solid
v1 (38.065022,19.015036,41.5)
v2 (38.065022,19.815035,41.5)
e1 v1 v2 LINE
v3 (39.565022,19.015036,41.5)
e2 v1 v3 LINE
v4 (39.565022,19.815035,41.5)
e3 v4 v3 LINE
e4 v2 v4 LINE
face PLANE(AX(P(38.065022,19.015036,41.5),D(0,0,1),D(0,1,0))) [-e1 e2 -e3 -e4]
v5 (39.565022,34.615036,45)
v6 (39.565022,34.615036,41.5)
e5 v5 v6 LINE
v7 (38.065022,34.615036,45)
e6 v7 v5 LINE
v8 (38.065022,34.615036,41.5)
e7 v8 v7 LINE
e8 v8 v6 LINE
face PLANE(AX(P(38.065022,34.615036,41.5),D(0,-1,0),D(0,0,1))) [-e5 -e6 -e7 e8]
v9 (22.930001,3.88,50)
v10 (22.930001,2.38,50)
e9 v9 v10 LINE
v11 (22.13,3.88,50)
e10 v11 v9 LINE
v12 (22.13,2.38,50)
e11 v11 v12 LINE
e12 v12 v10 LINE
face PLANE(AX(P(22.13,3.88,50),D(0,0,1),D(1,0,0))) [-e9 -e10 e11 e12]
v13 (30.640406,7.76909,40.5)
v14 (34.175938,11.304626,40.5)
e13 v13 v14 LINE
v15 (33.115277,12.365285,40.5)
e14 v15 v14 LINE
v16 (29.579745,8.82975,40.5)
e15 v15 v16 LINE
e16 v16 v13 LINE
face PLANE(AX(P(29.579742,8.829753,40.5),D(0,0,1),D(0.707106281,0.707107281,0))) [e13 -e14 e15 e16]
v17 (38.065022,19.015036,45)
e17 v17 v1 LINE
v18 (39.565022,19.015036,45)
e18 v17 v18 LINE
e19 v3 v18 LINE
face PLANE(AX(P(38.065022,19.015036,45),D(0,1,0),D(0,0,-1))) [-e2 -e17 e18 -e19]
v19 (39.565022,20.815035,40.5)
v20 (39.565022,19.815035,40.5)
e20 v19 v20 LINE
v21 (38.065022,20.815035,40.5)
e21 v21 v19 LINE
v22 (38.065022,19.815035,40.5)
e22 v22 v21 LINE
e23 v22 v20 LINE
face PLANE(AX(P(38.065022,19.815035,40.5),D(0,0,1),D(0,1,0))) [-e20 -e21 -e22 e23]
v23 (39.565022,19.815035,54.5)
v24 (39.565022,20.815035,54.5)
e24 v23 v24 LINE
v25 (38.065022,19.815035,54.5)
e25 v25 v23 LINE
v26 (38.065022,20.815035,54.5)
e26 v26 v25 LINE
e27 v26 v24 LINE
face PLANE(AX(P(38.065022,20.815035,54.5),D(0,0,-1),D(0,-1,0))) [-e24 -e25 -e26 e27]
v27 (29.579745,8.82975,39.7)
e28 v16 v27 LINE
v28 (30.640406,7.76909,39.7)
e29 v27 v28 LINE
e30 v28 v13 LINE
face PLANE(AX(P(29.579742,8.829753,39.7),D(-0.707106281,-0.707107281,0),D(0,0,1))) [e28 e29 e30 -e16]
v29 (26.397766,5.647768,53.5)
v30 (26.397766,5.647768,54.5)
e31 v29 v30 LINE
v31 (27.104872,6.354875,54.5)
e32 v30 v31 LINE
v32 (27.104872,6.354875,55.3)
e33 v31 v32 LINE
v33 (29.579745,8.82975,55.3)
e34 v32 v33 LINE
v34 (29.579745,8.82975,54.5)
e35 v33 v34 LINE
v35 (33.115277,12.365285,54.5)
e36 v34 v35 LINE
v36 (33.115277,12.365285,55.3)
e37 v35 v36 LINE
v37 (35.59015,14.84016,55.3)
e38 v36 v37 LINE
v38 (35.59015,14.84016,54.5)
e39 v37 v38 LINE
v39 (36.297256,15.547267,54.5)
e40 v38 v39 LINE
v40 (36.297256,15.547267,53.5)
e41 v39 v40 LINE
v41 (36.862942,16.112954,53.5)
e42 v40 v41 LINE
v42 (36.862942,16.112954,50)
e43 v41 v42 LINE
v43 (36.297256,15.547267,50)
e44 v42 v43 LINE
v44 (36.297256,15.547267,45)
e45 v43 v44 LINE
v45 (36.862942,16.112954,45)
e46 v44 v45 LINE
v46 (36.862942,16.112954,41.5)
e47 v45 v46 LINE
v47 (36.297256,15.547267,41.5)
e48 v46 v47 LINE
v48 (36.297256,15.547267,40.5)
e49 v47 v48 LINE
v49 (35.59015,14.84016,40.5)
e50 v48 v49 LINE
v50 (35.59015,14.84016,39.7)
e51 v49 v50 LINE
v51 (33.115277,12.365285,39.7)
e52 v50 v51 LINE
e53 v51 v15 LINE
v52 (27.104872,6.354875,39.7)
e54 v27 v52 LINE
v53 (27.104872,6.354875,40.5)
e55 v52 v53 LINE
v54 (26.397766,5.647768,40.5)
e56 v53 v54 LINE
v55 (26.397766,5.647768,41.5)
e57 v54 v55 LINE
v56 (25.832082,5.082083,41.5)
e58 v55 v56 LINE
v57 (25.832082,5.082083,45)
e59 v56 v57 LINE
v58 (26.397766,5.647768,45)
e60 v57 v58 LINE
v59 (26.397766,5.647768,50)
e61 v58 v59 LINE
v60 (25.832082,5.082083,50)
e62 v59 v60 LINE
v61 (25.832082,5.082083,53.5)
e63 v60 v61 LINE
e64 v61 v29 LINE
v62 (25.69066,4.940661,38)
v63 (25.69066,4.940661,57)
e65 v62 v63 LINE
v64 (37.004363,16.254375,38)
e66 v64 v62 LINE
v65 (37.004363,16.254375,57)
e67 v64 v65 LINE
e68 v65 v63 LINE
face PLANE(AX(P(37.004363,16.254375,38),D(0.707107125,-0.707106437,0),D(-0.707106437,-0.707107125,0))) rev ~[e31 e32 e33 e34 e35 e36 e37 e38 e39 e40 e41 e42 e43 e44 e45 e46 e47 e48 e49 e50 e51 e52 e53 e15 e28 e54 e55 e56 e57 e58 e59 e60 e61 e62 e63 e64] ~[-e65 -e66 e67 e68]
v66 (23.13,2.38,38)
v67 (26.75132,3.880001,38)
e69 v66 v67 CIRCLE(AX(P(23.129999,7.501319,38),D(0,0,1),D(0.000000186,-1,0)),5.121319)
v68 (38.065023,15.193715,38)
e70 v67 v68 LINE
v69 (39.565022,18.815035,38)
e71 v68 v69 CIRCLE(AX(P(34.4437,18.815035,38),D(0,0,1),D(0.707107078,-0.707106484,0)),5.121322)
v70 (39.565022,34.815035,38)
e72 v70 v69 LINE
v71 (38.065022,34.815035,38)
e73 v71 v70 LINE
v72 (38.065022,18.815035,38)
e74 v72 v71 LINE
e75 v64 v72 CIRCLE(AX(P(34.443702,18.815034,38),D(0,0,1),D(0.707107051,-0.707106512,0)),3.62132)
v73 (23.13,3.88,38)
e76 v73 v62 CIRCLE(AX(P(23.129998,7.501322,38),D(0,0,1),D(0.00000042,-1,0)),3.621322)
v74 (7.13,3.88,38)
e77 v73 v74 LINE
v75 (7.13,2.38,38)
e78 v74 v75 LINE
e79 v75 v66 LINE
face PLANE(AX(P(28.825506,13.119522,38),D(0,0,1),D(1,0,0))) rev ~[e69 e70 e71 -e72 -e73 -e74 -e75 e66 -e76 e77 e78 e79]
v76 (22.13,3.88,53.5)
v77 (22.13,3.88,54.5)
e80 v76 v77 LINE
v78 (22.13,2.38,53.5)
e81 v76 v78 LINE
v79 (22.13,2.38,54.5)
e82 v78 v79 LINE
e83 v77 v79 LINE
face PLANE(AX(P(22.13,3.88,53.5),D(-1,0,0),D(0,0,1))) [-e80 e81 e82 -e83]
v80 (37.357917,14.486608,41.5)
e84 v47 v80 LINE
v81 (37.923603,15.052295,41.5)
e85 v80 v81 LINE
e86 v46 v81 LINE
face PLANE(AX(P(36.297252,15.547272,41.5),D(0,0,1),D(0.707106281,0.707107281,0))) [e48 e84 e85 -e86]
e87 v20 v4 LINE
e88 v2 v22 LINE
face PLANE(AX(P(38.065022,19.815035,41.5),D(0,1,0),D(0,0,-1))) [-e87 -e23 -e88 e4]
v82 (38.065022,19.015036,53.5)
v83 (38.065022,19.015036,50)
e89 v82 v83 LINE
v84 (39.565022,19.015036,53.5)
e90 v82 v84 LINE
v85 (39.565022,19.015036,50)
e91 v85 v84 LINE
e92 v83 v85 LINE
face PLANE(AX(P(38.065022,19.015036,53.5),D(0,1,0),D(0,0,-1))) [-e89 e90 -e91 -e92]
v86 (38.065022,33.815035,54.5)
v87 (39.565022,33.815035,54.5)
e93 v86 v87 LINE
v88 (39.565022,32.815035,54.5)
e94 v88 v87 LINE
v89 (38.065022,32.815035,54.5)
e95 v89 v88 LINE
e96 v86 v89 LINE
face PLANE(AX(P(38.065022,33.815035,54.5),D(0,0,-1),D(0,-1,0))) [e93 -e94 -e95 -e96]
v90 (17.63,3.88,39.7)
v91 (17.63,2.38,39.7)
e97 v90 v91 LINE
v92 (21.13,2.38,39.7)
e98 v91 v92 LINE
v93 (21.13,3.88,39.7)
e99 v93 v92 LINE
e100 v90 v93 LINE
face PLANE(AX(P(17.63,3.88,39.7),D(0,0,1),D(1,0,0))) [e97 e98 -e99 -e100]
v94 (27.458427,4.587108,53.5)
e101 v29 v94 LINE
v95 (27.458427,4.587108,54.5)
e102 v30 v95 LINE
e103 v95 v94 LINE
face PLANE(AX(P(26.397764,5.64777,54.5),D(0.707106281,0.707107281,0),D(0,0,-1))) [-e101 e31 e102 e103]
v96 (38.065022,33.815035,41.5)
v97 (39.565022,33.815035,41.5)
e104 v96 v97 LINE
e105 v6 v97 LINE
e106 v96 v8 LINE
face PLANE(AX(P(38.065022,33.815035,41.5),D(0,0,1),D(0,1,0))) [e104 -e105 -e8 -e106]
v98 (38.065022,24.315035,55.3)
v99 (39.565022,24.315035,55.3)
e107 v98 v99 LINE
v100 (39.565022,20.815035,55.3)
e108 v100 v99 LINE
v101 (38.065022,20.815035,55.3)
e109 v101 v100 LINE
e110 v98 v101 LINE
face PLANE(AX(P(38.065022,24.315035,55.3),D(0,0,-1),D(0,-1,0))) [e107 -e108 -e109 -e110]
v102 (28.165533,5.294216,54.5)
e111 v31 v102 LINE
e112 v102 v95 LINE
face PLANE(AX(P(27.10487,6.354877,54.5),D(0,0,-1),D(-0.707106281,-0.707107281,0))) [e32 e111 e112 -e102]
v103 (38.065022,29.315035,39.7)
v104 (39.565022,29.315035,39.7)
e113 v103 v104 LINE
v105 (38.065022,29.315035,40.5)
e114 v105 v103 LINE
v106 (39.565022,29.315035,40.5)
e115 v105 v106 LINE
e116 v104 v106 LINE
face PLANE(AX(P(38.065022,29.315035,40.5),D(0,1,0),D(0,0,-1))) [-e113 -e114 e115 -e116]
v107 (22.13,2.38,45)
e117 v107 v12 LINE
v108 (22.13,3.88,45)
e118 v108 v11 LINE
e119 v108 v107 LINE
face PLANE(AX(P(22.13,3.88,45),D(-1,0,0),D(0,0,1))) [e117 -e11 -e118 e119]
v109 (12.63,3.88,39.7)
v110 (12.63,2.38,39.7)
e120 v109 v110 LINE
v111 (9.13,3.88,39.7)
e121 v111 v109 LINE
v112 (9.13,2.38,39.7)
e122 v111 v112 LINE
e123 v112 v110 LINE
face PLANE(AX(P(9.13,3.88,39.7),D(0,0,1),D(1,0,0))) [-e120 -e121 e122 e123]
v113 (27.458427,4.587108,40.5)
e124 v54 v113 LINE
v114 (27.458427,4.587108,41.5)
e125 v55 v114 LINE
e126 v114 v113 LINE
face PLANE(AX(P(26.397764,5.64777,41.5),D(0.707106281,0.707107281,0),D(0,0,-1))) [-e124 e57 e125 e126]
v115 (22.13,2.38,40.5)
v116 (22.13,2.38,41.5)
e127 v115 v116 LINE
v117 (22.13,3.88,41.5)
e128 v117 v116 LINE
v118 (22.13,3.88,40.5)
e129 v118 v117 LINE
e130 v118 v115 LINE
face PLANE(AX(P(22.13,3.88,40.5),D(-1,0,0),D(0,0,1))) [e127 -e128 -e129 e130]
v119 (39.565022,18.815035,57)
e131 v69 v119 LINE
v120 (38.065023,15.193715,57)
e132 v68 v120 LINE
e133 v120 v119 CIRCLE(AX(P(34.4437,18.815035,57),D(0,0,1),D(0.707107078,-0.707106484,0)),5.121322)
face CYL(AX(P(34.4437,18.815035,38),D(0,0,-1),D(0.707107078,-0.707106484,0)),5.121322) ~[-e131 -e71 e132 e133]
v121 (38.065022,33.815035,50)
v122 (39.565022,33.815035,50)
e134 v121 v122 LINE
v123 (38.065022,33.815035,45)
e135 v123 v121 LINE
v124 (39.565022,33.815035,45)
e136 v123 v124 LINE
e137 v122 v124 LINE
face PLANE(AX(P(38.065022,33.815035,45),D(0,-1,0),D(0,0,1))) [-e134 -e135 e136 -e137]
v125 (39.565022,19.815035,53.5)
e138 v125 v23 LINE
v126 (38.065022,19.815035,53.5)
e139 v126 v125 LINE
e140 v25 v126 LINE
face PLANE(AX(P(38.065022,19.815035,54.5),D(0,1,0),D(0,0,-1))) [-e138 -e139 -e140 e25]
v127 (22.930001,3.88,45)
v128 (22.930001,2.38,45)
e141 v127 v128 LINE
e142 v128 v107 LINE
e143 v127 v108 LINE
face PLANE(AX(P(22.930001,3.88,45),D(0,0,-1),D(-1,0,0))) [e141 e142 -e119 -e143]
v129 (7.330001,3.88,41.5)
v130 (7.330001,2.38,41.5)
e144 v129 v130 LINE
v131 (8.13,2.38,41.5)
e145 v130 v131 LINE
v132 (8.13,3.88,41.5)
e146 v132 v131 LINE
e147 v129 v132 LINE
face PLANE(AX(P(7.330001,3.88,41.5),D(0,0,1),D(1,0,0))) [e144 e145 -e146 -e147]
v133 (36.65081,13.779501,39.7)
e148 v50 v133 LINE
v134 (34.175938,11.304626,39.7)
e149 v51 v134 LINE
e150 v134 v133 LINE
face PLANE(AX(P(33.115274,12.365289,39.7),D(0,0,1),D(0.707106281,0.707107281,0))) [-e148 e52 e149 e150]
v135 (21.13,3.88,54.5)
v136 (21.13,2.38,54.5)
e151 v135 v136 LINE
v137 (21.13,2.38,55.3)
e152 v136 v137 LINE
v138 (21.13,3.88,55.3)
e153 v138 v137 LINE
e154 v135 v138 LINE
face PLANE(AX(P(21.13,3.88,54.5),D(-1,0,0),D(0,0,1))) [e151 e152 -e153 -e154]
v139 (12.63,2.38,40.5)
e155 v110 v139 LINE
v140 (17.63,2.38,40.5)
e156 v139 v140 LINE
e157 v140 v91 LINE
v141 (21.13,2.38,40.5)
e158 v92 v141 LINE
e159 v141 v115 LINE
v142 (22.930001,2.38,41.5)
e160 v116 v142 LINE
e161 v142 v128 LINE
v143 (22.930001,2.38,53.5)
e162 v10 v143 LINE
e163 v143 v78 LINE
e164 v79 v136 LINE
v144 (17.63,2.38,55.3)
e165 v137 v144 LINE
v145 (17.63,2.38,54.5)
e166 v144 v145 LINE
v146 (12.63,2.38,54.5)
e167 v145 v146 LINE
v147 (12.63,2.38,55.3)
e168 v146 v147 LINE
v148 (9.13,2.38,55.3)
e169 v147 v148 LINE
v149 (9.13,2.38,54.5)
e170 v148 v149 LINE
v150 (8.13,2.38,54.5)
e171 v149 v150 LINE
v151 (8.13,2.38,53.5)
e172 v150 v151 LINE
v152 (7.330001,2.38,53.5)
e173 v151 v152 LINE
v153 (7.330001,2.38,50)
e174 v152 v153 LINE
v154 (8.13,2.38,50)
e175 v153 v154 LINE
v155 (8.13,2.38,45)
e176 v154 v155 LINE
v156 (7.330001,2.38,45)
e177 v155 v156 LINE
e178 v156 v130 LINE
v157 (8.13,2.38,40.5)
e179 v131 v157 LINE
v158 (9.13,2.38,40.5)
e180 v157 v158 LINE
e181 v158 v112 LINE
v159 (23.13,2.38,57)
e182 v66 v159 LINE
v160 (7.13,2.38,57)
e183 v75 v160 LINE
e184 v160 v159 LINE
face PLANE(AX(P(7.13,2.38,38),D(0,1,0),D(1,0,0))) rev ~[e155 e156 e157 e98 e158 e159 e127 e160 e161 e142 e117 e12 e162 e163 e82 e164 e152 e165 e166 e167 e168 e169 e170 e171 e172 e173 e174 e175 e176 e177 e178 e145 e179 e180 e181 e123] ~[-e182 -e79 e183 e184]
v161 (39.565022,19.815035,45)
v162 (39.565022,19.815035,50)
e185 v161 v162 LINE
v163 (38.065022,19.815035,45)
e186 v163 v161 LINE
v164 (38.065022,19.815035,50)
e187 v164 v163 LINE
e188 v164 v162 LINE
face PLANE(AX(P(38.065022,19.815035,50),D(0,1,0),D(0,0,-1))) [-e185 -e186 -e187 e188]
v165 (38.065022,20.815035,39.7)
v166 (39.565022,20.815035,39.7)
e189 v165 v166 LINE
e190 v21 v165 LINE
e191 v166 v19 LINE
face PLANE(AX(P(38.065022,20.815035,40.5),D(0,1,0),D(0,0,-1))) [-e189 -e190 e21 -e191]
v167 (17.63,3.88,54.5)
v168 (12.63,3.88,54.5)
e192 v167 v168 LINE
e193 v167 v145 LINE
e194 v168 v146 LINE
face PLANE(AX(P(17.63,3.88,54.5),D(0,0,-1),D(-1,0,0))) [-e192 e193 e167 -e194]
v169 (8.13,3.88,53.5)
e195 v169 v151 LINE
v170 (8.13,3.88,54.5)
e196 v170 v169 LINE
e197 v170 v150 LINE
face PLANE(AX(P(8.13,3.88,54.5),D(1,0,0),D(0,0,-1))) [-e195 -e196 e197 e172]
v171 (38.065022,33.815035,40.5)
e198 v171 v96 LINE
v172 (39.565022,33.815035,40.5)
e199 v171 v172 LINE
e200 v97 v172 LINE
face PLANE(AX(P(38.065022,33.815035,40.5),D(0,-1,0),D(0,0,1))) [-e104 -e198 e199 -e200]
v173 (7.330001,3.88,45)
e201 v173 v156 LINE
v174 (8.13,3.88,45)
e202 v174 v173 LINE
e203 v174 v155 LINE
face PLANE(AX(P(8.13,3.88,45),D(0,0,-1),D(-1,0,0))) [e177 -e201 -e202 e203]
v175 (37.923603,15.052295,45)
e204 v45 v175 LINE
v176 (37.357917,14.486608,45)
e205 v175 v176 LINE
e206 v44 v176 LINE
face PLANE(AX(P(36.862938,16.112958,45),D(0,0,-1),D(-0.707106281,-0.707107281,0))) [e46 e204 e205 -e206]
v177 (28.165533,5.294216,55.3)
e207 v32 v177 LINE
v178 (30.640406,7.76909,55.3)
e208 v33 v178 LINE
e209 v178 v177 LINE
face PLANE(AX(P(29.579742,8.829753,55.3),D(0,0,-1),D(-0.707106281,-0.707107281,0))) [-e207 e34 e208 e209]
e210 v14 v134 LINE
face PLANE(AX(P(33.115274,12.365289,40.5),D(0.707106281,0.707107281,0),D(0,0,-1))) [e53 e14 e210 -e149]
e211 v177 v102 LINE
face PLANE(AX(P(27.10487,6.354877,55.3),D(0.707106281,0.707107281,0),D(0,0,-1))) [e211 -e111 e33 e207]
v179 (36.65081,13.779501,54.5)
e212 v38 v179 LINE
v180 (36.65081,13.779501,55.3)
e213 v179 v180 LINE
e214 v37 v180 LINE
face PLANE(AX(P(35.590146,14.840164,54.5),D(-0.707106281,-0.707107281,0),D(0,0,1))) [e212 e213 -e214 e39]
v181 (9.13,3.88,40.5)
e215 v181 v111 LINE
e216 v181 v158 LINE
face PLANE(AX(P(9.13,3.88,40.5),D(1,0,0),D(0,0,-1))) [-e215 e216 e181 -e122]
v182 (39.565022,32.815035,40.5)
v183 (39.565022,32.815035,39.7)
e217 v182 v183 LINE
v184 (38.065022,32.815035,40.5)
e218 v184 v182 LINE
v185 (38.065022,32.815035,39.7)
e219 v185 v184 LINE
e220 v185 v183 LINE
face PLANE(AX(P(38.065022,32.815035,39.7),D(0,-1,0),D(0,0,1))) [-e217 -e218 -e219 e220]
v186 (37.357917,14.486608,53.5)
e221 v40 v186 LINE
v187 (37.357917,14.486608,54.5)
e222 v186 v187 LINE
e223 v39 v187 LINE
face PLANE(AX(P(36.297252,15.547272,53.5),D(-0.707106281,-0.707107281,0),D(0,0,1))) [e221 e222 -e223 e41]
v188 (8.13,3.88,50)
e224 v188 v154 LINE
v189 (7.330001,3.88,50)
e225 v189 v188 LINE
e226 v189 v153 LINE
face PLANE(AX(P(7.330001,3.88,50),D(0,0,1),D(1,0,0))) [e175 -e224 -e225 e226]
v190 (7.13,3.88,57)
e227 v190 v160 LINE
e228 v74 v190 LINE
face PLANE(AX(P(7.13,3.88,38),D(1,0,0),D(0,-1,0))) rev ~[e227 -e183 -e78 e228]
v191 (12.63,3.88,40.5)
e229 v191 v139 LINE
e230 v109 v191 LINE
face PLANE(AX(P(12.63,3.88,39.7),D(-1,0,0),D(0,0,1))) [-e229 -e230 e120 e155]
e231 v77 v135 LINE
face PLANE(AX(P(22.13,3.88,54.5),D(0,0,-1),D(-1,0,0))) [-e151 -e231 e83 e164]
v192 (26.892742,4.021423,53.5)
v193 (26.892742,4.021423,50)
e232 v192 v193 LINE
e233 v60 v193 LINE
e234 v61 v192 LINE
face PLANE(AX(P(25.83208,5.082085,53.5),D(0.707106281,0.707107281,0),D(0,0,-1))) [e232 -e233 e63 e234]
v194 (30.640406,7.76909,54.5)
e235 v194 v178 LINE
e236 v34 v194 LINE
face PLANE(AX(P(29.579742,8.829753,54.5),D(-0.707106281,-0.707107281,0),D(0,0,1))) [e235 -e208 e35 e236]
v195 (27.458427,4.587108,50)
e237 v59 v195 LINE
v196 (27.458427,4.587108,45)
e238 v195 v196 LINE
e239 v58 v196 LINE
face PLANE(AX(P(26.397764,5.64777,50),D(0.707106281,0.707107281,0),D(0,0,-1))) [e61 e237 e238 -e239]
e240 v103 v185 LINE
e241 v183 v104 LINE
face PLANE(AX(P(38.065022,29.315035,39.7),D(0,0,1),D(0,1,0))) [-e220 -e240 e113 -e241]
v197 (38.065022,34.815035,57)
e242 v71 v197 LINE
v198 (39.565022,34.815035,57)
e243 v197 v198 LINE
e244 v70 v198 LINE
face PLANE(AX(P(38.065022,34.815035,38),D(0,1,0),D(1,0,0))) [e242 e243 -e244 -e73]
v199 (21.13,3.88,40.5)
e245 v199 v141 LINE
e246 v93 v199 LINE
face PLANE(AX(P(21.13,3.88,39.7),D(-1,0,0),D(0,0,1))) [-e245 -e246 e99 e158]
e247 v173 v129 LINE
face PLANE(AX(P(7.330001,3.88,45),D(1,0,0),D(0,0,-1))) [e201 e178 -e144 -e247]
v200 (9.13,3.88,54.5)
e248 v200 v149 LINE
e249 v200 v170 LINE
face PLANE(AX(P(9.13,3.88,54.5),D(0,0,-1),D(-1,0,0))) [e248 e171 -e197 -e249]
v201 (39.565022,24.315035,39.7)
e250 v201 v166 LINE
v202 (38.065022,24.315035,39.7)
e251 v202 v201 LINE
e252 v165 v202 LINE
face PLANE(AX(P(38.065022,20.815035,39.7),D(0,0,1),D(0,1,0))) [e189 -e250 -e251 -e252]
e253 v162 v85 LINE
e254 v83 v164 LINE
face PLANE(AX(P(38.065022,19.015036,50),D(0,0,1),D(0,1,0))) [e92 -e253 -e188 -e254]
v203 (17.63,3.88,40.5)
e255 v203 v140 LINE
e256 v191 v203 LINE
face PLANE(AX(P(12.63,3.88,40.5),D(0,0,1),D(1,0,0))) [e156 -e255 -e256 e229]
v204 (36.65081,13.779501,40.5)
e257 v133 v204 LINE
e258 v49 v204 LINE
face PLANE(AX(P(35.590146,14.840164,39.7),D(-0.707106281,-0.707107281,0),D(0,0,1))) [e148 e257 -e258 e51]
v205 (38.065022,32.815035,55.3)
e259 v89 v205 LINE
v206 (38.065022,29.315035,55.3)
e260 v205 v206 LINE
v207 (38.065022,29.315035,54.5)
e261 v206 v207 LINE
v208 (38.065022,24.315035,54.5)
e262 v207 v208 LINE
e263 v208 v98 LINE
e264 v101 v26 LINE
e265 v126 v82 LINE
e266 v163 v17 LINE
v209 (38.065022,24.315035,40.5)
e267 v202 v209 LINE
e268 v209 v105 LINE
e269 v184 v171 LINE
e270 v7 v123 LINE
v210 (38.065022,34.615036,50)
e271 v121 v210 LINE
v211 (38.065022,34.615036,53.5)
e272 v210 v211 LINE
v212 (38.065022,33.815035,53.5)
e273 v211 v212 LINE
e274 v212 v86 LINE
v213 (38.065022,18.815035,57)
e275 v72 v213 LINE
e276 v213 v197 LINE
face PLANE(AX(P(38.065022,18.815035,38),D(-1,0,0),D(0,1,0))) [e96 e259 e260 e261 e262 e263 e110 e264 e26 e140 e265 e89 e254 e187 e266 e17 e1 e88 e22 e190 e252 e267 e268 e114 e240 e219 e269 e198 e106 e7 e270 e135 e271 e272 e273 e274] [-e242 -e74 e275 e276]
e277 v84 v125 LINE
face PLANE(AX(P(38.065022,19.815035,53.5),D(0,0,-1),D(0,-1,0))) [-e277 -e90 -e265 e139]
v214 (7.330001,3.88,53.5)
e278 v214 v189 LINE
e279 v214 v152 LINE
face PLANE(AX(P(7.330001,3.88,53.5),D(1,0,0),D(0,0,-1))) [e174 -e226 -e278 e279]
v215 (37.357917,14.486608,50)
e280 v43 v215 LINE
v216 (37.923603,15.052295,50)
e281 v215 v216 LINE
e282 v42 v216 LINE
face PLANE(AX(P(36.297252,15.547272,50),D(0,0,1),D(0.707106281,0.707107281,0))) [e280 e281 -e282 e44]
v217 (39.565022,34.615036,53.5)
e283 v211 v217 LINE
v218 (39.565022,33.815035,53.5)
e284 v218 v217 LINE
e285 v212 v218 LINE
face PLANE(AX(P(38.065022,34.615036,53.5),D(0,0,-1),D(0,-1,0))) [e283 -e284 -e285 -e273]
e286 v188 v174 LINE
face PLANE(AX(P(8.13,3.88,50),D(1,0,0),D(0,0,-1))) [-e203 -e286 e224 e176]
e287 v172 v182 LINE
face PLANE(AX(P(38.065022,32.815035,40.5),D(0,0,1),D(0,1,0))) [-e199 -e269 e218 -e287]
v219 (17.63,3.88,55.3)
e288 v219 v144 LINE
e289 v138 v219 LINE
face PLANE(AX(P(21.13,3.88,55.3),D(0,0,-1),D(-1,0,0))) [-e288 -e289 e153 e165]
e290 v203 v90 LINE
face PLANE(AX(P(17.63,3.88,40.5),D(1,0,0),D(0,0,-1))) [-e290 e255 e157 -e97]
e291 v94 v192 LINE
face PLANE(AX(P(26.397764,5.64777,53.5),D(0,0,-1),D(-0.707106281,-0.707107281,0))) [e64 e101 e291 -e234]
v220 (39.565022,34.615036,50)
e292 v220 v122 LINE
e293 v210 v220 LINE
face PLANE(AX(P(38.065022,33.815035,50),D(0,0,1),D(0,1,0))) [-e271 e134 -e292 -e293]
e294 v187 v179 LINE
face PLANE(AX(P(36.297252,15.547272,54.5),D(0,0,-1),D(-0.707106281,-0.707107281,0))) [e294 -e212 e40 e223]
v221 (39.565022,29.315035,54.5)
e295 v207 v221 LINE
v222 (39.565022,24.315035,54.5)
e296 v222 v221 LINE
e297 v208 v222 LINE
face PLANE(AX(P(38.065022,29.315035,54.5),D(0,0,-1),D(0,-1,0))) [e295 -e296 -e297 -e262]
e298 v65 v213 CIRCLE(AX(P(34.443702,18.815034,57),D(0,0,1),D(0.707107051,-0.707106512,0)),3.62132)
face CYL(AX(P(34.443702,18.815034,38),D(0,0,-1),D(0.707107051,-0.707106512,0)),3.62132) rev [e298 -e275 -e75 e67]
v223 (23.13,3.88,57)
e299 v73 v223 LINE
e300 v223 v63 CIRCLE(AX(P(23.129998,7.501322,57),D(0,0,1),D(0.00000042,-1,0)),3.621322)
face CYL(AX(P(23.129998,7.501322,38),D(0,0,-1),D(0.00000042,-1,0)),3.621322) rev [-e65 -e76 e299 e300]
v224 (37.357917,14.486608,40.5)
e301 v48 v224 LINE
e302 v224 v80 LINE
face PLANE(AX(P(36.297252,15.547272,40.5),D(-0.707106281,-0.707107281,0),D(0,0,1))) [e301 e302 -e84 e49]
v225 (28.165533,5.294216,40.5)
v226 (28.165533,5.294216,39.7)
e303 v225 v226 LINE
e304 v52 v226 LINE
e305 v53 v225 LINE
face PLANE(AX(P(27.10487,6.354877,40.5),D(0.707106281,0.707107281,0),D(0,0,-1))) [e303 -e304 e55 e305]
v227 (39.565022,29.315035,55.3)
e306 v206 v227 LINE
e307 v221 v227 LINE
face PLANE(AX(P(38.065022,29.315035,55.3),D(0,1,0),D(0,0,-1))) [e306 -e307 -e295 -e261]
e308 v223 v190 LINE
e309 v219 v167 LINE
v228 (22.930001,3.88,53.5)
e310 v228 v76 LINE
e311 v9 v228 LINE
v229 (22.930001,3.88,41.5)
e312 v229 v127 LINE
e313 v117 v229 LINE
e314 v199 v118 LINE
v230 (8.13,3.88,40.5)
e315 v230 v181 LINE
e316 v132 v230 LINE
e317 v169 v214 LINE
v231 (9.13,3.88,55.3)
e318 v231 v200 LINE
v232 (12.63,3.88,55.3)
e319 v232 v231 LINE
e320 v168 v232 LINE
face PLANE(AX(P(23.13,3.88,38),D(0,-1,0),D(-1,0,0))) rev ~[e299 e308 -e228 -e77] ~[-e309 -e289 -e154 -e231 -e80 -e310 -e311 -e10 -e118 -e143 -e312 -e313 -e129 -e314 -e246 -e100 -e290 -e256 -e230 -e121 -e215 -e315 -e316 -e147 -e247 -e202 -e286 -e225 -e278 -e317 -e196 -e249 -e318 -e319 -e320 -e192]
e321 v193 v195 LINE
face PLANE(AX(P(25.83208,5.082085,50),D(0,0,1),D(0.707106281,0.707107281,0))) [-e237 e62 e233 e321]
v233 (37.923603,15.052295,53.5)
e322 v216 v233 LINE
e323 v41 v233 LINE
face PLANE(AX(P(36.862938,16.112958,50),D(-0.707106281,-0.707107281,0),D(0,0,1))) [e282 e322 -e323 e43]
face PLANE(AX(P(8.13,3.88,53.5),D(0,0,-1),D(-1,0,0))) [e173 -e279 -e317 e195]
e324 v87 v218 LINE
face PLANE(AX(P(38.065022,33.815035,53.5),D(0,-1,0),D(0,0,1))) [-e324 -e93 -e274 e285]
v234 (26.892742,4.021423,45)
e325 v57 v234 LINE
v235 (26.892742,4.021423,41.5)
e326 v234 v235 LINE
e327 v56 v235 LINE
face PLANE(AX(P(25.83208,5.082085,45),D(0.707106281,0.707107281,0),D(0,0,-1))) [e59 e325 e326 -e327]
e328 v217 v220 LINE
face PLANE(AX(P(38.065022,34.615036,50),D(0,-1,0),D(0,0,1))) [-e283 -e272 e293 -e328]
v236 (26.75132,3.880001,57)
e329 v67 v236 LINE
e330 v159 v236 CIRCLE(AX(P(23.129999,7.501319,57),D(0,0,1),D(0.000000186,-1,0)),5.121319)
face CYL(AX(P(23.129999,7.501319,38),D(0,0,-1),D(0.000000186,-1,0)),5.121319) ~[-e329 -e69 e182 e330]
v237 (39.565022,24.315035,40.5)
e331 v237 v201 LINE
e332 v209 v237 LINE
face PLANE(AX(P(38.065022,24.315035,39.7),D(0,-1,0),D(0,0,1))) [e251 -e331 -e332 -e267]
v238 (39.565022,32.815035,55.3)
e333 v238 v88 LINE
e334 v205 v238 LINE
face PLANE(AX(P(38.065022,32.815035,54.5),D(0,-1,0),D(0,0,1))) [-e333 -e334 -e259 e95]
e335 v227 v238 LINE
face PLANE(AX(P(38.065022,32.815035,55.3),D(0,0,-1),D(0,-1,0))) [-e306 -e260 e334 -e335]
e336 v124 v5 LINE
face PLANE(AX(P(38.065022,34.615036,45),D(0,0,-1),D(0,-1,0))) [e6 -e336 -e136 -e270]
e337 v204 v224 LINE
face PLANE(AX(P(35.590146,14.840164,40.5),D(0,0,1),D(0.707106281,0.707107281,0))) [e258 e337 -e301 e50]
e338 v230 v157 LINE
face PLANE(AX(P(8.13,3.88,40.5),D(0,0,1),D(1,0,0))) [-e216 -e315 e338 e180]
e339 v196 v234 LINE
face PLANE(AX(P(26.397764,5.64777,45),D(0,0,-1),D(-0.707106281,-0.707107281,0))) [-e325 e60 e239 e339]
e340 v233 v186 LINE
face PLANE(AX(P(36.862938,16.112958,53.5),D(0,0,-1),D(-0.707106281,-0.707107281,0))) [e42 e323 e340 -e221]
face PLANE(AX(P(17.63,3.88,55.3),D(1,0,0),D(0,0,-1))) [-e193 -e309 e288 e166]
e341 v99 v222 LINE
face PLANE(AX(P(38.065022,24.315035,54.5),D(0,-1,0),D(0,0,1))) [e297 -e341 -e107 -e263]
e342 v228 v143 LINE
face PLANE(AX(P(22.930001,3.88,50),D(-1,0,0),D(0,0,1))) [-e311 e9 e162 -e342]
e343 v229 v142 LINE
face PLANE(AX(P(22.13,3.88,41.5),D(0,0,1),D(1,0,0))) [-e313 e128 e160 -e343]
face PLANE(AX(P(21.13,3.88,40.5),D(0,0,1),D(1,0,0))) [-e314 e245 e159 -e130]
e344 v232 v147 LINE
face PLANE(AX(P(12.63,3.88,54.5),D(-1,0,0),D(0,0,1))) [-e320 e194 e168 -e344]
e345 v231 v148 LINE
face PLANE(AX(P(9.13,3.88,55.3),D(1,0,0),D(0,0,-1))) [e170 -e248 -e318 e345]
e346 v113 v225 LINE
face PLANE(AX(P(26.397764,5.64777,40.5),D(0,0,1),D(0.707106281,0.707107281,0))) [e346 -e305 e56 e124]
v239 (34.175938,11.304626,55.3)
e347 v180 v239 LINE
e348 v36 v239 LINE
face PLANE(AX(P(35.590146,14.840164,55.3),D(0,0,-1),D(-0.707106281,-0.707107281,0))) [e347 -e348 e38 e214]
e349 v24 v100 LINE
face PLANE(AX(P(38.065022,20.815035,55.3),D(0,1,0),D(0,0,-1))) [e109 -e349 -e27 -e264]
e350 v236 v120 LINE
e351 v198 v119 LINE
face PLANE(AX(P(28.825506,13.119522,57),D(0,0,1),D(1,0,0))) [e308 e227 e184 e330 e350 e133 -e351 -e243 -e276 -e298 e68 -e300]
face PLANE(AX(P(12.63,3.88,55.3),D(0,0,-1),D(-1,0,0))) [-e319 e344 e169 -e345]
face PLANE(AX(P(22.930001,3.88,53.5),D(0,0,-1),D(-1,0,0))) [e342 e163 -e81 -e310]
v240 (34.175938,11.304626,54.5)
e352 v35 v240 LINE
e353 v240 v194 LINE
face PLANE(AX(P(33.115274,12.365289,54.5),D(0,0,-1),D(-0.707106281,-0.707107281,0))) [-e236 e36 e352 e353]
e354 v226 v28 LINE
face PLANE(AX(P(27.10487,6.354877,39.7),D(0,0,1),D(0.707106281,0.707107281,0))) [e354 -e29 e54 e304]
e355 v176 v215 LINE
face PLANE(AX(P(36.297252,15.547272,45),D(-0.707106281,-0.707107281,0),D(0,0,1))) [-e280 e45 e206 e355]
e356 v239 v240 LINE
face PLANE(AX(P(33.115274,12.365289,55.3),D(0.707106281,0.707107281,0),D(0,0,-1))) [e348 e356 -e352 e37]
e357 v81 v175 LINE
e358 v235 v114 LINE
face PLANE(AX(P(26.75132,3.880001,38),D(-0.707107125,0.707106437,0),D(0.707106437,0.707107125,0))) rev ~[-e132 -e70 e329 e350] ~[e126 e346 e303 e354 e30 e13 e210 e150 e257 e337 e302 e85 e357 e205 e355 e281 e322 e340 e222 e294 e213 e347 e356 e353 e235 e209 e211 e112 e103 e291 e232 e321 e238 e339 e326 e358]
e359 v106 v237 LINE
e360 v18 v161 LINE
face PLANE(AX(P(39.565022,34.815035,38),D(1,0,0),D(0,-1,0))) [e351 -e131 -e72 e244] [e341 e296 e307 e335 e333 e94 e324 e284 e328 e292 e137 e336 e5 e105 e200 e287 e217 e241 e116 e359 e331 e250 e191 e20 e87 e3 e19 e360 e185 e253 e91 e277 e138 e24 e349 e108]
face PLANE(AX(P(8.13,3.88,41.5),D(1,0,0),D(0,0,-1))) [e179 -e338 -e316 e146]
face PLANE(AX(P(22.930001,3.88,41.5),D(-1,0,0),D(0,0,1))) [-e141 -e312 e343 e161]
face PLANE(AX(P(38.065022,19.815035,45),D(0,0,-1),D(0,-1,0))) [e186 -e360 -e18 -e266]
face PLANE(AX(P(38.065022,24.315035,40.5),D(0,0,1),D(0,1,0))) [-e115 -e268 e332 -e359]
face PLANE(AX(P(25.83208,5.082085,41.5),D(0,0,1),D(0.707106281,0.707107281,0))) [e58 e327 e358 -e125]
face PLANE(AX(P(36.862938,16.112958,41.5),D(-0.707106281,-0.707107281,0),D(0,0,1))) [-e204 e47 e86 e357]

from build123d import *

# Parameters (mm, degrees)
PAD_DEPTH       = 19
POCKET_DEPTH    = 11.62232
POCKET002_DEPTH = 1.501
POCKET003_DEPTH = 1.501


with BuildPart() as part:
    # Sketch → Pad (new body)
    with BuildSketch(Plane.XY):
        with BuildLine():
            Line((0, 0), (16, 0))
            ThreePointArc((16, 0), (17.959845, 0.389838), (19.62132, 1.500001))
            Line((19.62132, 1.500001), (30.935023, 12.813715))
            ThreePointArc((30.935023, 12.813715), (32.045185, 14.475191), (32.435022, 16.435035))
            Line((32.435022, 32.435035), (32.435022, 16.435035))
            Line((30.935022, 32.435035), (32.435022, 32.435035))
            Line((30.935022, 16.435035), (30.935022, 32.435035))
            ThreePointArc((29.874363, 13.874375), (30.659366, 15.049216), (30.935022, 16.435035))
            Line((29.874363, 13.874375), (18.56066, 2.560661))
            ThreePointArc((16, 1.5), (17.385819, 1.775657), (18.56066, 2.560661))
            Line((16, 1.5), (0, 1.5))
            Line((0, 1.5), (0, 0))
        make_face()
    extrude(amount=PAD_DEPTH)

    # Sketch004 → Pocket (cut, through all)
    with BuildSketch(Plane(origin=(8.000009, -8.000001, 0), x_dir=(-0.707106, -0.707107, 0), z_dir=(-0.707107, 0.707106, 0))):
        Polygon((-28.935023, 17.3), (-25.435023, 17.3), (-25.435023, 16.5), (-20.435023, 16.5), (-20.435023, 17.3), (-16.935023, 17.3), (-16.935023, 16.5), (-15.935023, 16.5), (-15.935023, 15.5), (-15.135024, 15.5), (-15.135024, 12), (-15.935023, 12), (-15.935023, 7), (-15.135024, 7), (-15.135024, 3.5), (-15.935023, 3.5), (-15.935023, 2.5), (-16.935023, 2.5), (-16.935023, 1.7), (-20.435023, 1.7), (-20.435023, 2.5), (-25.435023, 2.5), (-25.435023, 1.7), (-28.935023, 1.7), (-28.935023, 2.5), (-29.935023, 2.5), (-29.935023, 3.5), (-30.735024, 3.5), (-30.735024, 7), (-29.935023, 7), (-29.935023, 12), (-30.735024, 12), (-30.735024, 15.5), (-29.935023, 15.5), (-29.935023, 16.5), (-28.935023, 16.5), align=None)
    extrude(amount=-POCKET_DEPTH, mode=Mode.SUBTRACT)

    # Sketch004001 → Pocket002 (cut, through all)
    with BuildSketch(Plane(origin=(30.935022, 0, 0), x_dir=(0, -1, 0), z_dir=(-1, 0, 0))):
        Polygon((-30.435035, 17.3), (-26.935035, 17.3), (-26.935035, 16.5), (-21.935035, 16.5), (-21.935035, 17.3), (-18.435035, 17.3), (-18.435035, 16.5), (-17.435035, 16.5), (-17.435035, 15.5), (-16.635036, 15.5), (-16.635036, 12), (-17.435035, 12), (-17.435035, 7), (-16.635036, 7), (-16.635036, 3.5), (-17.435035, 3.5), (-17.435035, 2.5), (-18.435035, 2.5), (-18.435035, 1.7), (-21.935035, 1.7), (-21.935035, 2.5), (-26.935035, 2.5), (-26.935035, 1.7), (-30.435035, 1.7), (-30.435035, 2.5), (-31.435035, 2.5), (-31.435035, 3.5), (-32.235036, 3.5), (-32.235036, 7), (-31.435035, 7), (-31.435035, 12), (-32.235036, 12), (-32.235036, 15.5), (-31.435035, 15.5), (-31.435035, 16.5), (-30.435035, 16.5), align=None)
    extrude(amount=-POCKET002_DEPTH, mode=Mode.SUBTRACT)

    # Sketch004001001 → Pocket003 (cut, through all)
    with BuildSketch(Plane(origin=(0, 1.5, 0), x_dir=(-1, 0, 0), z_dir=(0, 1, 0))):
        Polygon((-14, 17.3), (-10.5, 17.3), (-10.5, 16.5), (-5.5, 16.5), (-5.5, 17.3), (-2, 17.3), (-2, 16.5), (-1, 16.5), (-1, 15.5), (-0.200001, 15.5), (-0.200001, 12), (-1, 12), (-1, 7), (-0.200001, 7), (-0.200001, 3.5), (-1, 3.5), (-1, 2.5), (-2, 2.5), (-2, 1.7), (-5.5, 1.7), (-5.5, 2.5), (-10.5, 2.5), (-10.5, 1.7), (-14, 1.7), (-14, 2.5), (-15, 2.5), (-15, 3.5), (-15.800001, 3.5), (-15.800001, 7), (-15, 7), (-15, 12), (-15.800001, 12), (-15.800001, 15.5), (-15, 15.5), (-15, 16.5), (-14, 16.5), align=None)
    extrude(amount=-POCKET003_DEPTH, mode=Mode.SUBTRACT)


with BuildPart() as part_1:
    # Clone placement: moved
    add(part.part.moved(Location((2.38, -2.38, 19))))


with BuildPart() as part_2:
    # Clone001 placement: moved
    add(part_1.part.moved(Location((4.75, 4.76, 19))))


solid = part_2.part
